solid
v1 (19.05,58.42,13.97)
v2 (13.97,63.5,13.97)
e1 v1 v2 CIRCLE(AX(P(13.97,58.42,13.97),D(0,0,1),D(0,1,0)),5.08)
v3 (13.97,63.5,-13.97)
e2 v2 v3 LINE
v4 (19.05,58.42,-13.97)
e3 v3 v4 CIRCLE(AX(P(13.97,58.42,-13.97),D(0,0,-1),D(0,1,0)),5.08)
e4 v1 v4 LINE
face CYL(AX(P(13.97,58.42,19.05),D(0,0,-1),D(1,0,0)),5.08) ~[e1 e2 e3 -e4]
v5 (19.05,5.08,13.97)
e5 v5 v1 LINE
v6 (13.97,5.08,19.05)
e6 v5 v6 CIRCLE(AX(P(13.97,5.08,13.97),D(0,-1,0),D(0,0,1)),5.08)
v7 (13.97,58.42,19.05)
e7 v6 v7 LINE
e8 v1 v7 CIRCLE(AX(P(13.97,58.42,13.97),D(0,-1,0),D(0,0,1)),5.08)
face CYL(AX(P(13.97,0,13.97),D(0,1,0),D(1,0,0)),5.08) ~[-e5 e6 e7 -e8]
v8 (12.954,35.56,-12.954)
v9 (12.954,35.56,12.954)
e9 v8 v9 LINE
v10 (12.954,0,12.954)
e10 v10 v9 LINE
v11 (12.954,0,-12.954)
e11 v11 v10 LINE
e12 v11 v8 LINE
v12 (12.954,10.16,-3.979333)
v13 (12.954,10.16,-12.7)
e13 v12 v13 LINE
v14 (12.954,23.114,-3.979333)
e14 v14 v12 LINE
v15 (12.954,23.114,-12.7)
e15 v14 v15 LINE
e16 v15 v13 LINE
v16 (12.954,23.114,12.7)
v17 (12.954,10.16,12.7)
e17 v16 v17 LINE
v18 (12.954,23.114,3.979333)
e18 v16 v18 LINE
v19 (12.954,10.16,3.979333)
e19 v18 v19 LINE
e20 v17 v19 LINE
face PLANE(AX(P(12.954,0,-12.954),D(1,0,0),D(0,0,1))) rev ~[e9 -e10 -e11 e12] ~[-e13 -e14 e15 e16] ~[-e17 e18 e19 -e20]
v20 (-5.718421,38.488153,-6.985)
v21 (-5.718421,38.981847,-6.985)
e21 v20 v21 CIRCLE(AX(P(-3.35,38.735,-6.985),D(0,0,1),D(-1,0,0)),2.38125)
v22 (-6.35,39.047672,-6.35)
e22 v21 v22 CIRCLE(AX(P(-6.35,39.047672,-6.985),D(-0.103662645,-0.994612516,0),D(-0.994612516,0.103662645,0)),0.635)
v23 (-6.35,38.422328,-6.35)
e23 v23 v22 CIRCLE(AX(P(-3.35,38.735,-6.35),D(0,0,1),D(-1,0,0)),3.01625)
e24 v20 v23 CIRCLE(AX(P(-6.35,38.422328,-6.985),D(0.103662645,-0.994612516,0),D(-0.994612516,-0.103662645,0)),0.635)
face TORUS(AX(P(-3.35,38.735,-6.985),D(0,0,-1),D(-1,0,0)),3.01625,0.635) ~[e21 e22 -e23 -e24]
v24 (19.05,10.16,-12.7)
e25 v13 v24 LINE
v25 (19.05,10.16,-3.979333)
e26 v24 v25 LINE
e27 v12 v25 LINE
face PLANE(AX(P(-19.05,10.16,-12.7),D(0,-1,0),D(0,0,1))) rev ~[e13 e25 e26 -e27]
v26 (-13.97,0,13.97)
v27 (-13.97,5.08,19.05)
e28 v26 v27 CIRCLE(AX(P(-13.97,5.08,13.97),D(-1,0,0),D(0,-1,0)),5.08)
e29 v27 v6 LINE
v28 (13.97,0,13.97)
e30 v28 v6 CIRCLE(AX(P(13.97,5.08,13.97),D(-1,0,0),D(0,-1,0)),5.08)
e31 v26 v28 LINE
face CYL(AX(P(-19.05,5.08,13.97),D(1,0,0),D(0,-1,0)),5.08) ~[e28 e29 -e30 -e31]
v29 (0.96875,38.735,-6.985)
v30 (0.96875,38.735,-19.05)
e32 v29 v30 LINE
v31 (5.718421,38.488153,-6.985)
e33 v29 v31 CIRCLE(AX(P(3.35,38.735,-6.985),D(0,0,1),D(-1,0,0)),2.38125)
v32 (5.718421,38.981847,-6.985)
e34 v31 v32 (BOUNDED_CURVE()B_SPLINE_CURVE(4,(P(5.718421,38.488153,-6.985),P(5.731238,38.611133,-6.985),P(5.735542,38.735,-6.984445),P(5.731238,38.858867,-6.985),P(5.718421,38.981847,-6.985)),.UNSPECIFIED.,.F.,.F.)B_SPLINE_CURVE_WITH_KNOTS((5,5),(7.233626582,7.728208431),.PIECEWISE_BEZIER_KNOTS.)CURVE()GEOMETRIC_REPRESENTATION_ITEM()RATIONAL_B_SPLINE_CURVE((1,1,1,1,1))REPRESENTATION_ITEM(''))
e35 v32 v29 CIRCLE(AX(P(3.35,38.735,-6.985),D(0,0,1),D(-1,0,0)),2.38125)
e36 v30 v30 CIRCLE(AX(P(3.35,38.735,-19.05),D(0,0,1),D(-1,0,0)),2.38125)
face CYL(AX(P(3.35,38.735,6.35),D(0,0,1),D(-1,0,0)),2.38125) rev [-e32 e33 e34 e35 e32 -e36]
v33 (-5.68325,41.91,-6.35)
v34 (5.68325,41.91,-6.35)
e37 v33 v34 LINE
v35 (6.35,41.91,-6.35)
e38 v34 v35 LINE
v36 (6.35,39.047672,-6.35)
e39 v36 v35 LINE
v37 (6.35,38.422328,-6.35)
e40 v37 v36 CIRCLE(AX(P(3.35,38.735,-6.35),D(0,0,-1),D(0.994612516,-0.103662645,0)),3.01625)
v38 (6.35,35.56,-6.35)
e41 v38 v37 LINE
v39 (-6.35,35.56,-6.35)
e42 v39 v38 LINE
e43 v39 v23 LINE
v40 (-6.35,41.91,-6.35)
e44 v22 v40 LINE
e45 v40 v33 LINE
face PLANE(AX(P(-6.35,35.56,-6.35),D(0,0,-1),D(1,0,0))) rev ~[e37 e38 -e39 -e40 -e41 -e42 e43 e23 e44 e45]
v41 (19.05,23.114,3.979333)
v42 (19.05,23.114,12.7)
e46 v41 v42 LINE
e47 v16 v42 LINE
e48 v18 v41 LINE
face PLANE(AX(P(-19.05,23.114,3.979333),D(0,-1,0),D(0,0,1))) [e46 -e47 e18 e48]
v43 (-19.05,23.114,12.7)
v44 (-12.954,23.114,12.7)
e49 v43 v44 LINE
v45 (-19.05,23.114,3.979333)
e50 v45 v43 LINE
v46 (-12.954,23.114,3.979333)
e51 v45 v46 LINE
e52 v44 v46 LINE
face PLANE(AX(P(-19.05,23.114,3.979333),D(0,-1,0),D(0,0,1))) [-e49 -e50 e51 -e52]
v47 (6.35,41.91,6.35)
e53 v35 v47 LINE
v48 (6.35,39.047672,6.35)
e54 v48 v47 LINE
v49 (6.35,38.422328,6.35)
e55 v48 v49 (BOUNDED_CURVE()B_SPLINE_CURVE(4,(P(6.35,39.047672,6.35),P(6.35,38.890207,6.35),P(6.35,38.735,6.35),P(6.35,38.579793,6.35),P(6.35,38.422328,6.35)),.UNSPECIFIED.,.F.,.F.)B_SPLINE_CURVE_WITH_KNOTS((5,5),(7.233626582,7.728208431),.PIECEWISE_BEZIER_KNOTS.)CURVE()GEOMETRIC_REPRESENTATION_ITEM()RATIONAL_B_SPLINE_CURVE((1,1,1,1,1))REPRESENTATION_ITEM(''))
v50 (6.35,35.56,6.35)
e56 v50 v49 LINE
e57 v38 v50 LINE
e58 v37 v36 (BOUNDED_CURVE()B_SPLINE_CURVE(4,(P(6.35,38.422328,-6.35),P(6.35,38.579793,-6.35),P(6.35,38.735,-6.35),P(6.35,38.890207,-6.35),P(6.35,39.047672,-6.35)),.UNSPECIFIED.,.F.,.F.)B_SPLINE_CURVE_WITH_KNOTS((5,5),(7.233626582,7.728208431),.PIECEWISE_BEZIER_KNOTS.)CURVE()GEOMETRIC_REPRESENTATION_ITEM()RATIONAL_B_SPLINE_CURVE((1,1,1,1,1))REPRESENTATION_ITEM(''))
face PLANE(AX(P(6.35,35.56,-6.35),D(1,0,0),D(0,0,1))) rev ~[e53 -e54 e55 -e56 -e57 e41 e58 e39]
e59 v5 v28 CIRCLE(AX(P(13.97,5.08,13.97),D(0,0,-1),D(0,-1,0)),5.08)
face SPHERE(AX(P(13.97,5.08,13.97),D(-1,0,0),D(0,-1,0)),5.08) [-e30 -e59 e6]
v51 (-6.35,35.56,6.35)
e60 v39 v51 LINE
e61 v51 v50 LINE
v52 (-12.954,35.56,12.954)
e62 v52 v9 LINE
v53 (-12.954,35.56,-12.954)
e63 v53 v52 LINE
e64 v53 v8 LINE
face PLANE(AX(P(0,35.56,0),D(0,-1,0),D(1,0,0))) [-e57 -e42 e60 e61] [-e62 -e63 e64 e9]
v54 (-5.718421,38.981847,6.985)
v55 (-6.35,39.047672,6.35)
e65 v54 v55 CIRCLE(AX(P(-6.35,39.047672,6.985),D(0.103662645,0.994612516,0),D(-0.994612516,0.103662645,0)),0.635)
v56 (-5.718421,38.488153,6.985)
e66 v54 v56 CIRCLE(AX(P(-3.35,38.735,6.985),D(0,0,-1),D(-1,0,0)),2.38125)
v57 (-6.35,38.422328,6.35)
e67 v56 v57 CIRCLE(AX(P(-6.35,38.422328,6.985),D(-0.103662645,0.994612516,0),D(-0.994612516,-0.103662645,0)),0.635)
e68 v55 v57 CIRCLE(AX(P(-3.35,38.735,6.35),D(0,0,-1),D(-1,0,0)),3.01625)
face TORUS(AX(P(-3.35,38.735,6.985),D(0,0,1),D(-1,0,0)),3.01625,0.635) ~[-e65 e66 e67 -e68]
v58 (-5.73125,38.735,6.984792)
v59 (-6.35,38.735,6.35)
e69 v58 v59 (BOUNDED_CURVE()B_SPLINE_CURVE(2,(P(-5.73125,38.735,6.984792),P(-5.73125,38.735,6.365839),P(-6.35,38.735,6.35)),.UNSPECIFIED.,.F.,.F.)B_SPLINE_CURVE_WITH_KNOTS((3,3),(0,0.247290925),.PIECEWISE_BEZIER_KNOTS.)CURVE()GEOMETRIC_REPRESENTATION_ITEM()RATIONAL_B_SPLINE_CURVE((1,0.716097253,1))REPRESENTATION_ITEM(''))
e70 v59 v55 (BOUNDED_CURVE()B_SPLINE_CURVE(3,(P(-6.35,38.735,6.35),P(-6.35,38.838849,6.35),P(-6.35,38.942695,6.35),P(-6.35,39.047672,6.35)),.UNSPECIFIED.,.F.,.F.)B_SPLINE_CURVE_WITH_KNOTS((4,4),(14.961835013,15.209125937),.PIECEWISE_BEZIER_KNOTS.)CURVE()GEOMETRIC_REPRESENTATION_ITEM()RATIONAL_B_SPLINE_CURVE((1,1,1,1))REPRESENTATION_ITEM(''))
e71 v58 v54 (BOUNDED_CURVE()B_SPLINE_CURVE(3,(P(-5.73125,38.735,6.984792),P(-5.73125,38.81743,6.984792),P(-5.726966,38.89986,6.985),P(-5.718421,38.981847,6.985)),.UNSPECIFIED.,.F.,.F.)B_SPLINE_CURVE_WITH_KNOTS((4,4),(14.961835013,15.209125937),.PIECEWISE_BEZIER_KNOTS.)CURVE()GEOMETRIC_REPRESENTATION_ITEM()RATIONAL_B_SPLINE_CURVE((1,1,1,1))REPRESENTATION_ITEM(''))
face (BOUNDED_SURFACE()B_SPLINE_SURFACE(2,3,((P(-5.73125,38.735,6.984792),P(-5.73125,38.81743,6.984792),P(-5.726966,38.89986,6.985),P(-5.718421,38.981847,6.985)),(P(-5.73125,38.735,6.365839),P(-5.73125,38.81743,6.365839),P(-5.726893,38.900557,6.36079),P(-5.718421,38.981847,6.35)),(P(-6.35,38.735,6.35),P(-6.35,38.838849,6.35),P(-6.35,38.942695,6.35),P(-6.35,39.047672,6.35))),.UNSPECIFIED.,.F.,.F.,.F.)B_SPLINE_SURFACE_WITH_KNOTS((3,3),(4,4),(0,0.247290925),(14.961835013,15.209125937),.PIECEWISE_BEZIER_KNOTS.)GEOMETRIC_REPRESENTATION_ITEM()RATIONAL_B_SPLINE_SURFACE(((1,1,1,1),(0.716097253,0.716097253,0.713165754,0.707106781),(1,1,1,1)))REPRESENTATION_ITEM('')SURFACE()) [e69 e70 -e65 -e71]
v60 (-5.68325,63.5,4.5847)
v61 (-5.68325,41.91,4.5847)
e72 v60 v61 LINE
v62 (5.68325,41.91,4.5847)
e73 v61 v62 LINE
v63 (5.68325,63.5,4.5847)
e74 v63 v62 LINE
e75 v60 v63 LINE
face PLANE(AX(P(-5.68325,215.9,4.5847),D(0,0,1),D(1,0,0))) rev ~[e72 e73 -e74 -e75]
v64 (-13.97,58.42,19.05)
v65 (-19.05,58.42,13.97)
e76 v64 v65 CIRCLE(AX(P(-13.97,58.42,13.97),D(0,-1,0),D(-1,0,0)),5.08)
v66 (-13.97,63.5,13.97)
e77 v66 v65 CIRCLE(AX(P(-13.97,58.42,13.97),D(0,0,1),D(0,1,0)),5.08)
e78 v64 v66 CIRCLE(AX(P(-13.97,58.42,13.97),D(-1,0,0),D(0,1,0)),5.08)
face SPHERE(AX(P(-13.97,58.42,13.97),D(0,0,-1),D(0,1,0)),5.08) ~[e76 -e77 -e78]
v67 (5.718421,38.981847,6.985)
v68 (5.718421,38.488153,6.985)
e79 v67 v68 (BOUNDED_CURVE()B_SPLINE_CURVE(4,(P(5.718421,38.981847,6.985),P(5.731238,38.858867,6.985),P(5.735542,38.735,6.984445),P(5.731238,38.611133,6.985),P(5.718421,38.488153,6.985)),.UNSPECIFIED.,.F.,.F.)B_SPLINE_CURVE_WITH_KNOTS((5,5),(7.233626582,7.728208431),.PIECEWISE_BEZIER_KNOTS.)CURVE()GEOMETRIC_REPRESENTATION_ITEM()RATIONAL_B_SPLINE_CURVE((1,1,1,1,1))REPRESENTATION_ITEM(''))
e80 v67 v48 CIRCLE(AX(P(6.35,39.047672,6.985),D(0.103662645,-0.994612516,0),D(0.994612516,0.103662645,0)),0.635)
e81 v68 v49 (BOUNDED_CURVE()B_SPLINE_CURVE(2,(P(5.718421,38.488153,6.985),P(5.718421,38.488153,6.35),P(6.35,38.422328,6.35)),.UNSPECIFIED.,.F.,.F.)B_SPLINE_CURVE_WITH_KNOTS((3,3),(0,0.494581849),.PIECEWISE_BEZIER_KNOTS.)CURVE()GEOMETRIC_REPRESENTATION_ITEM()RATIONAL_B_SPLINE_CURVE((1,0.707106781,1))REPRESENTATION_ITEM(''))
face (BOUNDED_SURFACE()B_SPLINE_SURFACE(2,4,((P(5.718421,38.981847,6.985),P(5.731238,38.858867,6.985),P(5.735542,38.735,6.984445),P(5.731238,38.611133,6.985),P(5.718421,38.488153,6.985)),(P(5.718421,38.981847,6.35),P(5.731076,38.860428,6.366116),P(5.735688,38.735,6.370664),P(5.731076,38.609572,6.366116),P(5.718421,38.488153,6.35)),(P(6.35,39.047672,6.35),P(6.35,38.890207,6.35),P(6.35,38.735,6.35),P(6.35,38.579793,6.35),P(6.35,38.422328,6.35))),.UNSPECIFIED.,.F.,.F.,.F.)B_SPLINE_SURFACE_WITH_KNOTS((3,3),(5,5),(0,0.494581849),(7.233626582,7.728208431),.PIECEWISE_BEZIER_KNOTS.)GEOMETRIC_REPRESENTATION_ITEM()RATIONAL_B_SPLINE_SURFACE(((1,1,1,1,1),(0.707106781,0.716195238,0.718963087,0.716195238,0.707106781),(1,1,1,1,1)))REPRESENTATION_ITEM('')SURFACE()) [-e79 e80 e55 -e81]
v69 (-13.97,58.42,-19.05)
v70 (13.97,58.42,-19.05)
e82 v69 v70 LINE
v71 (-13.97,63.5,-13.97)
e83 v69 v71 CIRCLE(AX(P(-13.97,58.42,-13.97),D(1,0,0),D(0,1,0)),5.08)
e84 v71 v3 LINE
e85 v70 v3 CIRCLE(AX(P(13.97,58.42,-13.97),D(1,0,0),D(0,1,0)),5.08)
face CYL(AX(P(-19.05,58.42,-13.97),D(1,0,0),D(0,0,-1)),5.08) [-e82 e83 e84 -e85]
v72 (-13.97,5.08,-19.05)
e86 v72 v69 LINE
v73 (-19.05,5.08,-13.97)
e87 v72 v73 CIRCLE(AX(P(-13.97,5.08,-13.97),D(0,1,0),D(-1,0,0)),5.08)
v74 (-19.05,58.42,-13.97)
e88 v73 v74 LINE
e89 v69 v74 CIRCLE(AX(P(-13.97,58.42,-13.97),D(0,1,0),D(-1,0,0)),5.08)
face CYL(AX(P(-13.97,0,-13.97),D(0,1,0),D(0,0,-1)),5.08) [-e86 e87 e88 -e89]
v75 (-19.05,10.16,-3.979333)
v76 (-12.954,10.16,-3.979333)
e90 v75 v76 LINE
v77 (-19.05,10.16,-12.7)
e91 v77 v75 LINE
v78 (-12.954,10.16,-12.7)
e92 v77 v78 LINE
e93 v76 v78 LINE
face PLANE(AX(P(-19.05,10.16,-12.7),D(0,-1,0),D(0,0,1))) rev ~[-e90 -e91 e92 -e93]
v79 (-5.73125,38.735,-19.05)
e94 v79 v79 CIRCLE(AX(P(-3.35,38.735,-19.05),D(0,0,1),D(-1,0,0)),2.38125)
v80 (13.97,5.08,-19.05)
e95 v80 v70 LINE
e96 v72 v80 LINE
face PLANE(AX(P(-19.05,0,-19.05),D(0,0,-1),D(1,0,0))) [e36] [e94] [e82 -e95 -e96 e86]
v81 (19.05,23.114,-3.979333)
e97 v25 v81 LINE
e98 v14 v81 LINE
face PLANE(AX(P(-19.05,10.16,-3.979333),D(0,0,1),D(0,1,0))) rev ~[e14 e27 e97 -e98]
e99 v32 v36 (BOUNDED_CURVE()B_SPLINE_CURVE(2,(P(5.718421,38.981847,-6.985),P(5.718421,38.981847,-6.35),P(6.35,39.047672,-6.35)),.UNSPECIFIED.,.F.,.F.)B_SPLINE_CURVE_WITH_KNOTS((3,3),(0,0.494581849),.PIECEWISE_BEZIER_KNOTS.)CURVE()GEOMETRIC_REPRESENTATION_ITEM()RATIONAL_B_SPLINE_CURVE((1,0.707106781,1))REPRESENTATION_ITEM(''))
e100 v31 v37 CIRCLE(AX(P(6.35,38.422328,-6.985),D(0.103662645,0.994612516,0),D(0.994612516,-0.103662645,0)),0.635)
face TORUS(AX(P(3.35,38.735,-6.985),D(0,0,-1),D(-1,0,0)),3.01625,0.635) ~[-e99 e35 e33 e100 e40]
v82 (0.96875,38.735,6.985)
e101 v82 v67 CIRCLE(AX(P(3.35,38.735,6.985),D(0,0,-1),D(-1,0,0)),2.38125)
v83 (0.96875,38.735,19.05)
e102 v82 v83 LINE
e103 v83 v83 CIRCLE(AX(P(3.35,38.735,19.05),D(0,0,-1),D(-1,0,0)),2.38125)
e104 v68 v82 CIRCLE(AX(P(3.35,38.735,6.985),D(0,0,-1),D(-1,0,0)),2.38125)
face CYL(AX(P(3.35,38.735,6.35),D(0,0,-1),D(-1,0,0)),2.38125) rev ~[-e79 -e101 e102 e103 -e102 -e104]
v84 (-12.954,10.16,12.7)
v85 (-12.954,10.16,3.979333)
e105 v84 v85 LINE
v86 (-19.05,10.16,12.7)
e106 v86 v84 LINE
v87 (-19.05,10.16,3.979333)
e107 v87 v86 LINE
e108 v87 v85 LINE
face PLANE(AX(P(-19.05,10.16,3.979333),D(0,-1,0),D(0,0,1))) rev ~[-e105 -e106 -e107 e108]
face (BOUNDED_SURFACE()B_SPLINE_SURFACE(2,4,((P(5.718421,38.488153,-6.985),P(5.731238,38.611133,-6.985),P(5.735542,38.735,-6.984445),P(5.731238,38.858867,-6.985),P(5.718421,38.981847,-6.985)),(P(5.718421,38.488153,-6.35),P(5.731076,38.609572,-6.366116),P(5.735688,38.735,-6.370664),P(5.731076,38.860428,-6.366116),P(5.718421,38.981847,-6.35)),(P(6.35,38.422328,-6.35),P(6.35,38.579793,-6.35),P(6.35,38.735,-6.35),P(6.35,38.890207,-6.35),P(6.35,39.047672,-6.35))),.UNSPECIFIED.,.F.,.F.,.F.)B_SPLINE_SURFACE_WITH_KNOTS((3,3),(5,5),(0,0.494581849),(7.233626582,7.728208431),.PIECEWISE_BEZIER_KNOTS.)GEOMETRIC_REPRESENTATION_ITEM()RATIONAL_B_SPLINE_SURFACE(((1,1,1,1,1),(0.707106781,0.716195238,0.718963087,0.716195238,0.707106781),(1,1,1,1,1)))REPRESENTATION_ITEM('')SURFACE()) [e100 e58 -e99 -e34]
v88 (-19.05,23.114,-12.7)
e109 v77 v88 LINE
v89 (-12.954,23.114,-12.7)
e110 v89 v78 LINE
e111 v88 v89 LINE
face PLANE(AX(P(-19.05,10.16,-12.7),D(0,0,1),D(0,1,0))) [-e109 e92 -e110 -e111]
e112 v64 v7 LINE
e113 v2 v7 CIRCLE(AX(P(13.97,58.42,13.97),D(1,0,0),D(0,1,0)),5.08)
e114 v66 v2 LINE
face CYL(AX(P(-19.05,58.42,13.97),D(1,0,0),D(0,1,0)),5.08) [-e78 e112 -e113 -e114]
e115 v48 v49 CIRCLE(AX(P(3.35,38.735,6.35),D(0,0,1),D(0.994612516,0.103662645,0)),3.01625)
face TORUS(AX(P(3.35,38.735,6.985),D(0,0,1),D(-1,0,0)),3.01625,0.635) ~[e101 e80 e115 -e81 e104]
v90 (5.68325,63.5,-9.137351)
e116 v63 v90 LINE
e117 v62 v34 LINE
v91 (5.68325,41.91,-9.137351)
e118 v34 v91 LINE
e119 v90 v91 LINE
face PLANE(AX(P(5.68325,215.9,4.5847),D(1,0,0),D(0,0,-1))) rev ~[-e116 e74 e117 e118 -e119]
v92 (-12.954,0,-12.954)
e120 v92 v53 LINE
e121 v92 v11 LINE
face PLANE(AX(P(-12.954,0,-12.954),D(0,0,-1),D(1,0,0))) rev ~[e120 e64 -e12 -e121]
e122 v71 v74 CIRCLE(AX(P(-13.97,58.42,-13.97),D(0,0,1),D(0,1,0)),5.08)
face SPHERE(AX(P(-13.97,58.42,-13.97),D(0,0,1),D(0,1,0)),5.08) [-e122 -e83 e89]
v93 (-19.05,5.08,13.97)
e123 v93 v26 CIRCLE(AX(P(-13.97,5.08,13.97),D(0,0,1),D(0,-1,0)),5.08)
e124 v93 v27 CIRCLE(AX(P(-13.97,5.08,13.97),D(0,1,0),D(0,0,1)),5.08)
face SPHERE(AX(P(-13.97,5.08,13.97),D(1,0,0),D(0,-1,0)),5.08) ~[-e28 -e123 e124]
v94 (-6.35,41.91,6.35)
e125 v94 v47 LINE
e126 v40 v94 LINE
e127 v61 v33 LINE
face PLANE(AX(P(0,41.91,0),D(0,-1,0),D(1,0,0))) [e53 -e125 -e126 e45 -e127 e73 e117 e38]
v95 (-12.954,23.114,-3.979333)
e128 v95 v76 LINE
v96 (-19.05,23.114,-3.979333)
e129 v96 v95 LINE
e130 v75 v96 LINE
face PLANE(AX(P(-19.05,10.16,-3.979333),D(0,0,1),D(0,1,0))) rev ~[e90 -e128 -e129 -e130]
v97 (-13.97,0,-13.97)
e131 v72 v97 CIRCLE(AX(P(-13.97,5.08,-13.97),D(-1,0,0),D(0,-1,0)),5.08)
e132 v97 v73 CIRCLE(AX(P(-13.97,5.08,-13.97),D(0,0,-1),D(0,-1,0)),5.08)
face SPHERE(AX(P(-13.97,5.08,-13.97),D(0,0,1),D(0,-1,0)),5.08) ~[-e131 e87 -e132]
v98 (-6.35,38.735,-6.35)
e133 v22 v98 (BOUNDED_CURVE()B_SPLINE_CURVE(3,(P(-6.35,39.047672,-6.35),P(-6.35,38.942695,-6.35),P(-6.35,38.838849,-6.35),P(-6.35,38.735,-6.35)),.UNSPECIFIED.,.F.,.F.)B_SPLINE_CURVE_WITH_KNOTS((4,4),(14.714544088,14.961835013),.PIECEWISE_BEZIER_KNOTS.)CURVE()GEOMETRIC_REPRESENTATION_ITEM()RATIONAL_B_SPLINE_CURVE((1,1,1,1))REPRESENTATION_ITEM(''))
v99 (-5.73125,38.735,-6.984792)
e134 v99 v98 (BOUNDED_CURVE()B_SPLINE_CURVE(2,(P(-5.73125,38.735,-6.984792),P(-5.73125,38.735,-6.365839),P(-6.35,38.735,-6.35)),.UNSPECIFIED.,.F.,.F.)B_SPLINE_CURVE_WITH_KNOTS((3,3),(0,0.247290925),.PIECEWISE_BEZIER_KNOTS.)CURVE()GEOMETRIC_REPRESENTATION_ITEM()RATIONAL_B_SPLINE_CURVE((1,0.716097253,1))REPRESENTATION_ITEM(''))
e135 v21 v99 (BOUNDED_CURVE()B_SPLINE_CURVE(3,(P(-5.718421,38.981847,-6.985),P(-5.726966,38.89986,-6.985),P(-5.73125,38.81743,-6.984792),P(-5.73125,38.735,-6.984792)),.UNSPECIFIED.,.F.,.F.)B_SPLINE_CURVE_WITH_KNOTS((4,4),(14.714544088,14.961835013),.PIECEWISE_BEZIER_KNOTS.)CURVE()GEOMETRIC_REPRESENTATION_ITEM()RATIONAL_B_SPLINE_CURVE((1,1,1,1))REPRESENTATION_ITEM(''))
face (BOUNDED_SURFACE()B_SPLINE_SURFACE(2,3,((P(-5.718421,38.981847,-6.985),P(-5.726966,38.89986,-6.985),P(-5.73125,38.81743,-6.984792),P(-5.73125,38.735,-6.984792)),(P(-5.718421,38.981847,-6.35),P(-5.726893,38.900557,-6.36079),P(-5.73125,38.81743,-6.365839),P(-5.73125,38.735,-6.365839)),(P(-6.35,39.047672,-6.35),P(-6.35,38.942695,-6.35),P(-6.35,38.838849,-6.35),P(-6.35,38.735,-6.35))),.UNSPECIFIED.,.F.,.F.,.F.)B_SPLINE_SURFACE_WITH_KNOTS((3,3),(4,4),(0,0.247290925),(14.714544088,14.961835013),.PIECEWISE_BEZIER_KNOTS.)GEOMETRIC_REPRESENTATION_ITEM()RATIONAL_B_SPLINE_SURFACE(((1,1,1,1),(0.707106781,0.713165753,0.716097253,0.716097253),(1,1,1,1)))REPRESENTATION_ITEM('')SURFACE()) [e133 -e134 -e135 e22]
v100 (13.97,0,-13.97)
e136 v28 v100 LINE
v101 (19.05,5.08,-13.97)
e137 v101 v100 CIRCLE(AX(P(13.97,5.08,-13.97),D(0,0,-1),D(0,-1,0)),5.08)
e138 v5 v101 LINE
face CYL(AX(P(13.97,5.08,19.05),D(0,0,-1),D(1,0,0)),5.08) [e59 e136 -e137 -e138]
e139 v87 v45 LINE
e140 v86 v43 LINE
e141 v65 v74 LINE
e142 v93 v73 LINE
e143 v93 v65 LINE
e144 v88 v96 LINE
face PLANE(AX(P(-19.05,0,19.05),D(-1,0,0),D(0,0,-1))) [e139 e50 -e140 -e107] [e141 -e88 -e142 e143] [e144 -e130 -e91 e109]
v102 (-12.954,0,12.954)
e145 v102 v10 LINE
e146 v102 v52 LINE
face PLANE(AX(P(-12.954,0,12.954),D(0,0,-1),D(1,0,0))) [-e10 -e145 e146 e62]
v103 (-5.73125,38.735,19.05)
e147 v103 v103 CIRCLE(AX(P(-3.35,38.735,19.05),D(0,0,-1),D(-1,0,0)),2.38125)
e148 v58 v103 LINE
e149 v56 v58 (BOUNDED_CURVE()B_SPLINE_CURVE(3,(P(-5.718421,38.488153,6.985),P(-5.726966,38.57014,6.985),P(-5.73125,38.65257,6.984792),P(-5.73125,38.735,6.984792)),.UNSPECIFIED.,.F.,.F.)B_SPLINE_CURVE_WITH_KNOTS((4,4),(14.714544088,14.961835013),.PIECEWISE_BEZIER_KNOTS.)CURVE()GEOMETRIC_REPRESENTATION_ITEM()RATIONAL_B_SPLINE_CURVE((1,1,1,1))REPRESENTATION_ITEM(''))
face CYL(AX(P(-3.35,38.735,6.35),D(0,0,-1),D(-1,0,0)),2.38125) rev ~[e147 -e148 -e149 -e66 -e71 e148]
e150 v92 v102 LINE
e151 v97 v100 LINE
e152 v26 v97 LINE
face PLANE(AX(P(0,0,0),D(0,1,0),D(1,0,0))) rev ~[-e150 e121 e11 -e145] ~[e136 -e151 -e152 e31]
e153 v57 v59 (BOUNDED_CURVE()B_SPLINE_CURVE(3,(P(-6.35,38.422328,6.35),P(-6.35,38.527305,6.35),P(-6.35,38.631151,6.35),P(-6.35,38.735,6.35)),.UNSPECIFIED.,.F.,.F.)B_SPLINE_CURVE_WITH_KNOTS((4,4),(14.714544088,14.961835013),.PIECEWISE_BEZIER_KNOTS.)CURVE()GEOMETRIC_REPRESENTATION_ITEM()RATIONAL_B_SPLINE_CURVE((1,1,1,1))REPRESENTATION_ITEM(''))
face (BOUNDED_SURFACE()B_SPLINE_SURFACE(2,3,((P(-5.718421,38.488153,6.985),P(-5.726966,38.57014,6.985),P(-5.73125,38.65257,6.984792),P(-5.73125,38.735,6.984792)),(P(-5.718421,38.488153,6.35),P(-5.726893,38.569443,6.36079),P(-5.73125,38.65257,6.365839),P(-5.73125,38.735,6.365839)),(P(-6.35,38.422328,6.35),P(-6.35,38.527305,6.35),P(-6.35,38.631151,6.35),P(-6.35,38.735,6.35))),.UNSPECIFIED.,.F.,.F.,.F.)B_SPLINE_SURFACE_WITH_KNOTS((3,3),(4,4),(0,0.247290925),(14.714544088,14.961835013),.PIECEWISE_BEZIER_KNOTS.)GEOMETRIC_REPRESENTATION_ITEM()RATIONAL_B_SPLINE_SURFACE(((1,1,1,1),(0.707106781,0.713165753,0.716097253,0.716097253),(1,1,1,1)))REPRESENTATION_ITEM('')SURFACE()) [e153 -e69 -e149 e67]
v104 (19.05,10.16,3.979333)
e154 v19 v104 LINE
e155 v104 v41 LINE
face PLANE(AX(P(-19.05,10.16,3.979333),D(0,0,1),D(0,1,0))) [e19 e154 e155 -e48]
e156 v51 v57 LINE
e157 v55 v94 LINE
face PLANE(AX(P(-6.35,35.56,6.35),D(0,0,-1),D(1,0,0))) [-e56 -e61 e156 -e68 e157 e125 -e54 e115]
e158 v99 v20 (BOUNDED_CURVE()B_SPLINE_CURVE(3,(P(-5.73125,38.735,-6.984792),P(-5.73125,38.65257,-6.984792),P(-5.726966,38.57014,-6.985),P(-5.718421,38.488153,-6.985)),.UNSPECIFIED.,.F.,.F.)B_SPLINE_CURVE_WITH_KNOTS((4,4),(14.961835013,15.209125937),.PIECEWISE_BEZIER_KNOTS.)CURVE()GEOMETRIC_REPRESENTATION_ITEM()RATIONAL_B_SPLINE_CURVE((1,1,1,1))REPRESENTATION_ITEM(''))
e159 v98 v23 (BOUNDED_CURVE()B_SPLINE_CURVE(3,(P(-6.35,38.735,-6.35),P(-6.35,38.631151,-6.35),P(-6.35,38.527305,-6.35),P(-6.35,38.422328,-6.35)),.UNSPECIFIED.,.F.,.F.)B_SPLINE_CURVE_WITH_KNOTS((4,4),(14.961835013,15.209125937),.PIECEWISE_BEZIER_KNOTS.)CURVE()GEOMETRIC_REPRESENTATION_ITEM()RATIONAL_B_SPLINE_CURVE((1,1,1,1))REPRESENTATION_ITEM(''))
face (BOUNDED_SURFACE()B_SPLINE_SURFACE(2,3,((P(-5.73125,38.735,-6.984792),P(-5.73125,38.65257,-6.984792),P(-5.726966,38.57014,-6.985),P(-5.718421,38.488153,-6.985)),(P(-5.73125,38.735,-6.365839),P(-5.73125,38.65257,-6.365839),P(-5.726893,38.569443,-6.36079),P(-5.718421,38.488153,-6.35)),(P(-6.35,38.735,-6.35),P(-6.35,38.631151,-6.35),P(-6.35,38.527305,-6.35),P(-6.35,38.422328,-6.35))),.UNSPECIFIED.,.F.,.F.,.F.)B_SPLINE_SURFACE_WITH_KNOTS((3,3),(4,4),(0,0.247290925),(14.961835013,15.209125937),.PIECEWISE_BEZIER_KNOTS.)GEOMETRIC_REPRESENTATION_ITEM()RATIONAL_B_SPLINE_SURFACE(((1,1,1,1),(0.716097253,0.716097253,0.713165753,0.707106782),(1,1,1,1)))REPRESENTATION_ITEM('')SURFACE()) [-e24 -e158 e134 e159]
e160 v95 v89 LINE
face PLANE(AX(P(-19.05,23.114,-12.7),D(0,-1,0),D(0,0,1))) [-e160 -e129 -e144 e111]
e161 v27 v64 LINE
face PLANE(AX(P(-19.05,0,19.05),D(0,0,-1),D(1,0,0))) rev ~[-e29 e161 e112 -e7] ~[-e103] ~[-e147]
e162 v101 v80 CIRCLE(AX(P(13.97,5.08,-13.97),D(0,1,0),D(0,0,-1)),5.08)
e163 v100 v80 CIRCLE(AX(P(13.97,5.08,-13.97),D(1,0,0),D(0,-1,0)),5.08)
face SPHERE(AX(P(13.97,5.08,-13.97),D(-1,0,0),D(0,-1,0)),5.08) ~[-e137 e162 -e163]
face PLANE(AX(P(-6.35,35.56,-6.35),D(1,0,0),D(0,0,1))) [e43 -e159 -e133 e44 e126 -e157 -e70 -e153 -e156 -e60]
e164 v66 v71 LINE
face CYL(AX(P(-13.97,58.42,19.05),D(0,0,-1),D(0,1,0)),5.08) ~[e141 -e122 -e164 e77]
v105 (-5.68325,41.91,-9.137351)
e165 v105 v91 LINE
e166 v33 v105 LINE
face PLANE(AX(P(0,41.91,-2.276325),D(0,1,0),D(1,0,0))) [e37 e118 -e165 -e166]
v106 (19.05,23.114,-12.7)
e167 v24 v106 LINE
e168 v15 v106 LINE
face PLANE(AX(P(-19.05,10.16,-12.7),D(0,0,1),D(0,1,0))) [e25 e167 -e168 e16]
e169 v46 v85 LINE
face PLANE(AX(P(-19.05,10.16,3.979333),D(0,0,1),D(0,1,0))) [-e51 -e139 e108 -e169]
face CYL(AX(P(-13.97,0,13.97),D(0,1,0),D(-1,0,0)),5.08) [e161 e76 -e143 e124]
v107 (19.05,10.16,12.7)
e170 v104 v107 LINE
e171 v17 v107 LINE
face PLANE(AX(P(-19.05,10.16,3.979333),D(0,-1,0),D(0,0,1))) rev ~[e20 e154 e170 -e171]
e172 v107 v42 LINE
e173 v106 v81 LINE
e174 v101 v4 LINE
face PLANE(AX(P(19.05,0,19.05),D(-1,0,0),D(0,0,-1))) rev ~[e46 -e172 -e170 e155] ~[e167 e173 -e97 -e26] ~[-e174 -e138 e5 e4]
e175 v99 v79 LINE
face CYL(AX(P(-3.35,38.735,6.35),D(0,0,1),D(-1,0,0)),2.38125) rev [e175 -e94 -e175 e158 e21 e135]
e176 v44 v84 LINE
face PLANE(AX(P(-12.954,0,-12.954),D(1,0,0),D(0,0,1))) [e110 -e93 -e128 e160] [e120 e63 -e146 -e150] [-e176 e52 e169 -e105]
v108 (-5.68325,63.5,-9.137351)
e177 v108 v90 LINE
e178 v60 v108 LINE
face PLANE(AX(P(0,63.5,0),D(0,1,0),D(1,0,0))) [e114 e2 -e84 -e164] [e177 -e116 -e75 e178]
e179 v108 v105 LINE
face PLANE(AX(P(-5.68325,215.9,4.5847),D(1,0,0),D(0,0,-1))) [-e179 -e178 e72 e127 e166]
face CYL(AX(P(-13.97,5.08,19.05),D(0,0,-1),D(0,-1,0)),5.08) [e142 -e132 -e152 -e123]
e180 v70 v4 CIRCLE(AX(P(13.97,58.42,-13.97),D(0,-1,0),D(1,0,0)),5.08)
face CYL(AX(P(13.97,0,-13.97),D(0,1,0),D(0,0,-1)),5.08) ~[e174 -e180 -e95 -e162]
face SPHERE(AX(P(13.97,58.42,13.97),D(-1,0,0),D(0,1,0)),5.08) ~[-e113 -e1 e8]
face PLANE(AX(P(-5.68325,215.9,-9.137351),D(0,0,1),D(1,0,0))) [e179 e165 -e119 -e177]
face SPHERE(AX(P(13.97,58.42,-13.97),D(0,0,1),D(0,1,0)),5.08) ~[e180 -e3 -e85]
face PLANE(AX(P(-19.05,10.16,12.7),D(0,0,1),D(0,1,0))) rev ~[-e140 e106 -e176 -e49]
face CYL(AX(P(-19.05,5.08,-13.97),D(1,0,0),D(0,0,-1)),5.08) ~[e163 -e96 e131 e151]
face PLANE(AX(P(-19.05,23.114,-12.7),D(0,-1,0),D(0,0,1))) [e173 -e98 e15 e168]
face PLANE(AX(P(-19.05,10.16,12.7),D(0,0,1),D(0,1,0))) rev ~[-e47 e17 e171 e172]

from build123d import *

# Parameters (mm, degrees)
SKETCH1_W               = 38.1
SKETCH1_H               = 38.1
BOSS_EXTRUDE1_DEPTH     = 63.5
SKETCH4_W               = 8.9154
SKETCH4_H               = 152.4
BOSS_EXTRUDE3_DEPTH     = 5.55625
BOSS_EXTRUDE4_DEPTH     = 11.1125
LPATTERN1_COUNT         = 24
LPATTERN1_PITCH         = 6.23316
FILLET1_R               = 0.50038
SKETCH8_W               = 25.908
SKETCH8_H               = 25.908
CUT_EXTRUDE3_DEPTH      = 35.56
SKETCH9_W               = 12.7
SKETCH9_H               = 12.7
CUT_EXTRUDE4_DEPTH      = 6.35
SKETCH10_R              = 2.38125
CUT_EXTRUDE5_DEPTH      = 26.4
CUT_EXTRUDE5_DEPTH_BACK = 13.7
SKETCH11_W              = 8.720666667
SKETCH11_H              = 12.954
CUT_EXTRUDE6_DEPTH      = 39.1
FILLET2_R               = 0.635
FILLET3_R               = 5.08
SKETCH15_W              = 11.3665
SKETCH15_H              = 13.722050523
CUT_EXTRUDE9_DEPTH      = 173.99


with BuildPart() as part:
    # Sketch1 → Boss-Extrude1 (new body)
    with BuildSketch(Plane(origin=(0, 0, 0), x_dir=(1, 0, 0), z_dir=(0, 1, 0))):
        Rectangle(SKETCH1_W, SKETCH1_H)
    extrude(amount=BOSS_EXTRUDE1_DEPTH)

    # Sketch4 → Boss-Extrude3 (add, symmetric)
    with BuildSketch(Plane(origin=(0, 0, 0), x_dir=(0, 0, -1), z_dir=(1, 0, 0))):
        with Locations((0, 139.7)):
            Rectangle(SKETCH4_W, SKETCH4_H)
    extrude(amount=BOSS_EXTRUDE3_DEPTH, both=True)

    # Sketch5 → Boss-Extrude4 (add)
    with BuildSketch(Plane.ZY.offset(5.55625)):
        Polygon((-4.4577, 215.9), (-8.95858, 214.2617), (-8.95858, 212.57514), (-4.4577, 210.93684), align=None)
    boss_extrude4 = extrude(amount=-BOSS_EXTRUDE4_DEPTH)

    # LPattern1: Boss-Extrude4 ×24
    with Locations(*[(0, -i * LPATTERN1_PITCH, 0) for i in range(1, LPATTERN1_COUNT)]):
        add(boss_extrude4)

    # Fillet1
    fillet1_edges = [part.edges().sort_by_distance(p)[0] for p in [
        (0, 170.62958, -8.95858),
        (0, 168.94302, -8.95858),
        (0, 167.30472, -4.4577),
        (0, 172.26788, -4.4577),
        (0, 164.39642, -8.95858),
        (0, 162.70986, -8.95858),
        (0, 161.07156, -4.4577),
        (0, 166.03472, -4.4577),
        (0, 158.16326, -8.95858),
        (0, 156.4767, -8.95858),
        (0, 154.8384, -4.4577),
        (0, 159.80156, -4.4577),
        (0, 151.9301, -8.95858),
        (0, 150.24354, -8.95858),
        (0, 148.60524, -4.4577),
        (0, 153.5684, -4.4577),
        (0, 145.69694, -8.95858),
        (0, 144.01038, -8.95858),
        (0, 142.37208, -4.4577),
        (0, 147.33524, -4.4577),
        (0, 214.2617, -8.95858),
        (0, 212.57514, -8.95858),
        (0, 210.93684, -4.4577),
        (0, 208.02854, -8.95858),
        (0, 206.34198, -8.95858),
        (0, 204.70368, -4.4577),
        (0, 209.66684, -4.4577),
        (0, 201.79538, -8.95858),
        (0, 200.10882, -8.95858),
        (0, 198.47052, -4.4577),
        (0, 203.43368, -4.4577),
        (0, 195.56222, -8.95858),
        (0, 193.87566, -8.95858),
        (0, 192.23736, -4.4577),
        (0, 197.20052, -4.4577),
        (0, 189.32906, -8.95858),
        (0, 187.6425, -8.95858),
        (0, 186.0042, -4.4577),
        (0, 190.96736, -4.4577),
        (0, 183.0959, -8.95858),
        (0, 181.40934, -8.95858),
        (0, 179.77104, -4.4577),
        (0, 184.7342, -4.4577),
        (0, 176.86274, -8.95858),
        (0, 175.17618, -8.95858),
        (0, 173.53788, -4.4577),
        (0, 178.50104, -4.4577),
    ]]
    fillet(fillet1_edges, radius=FILLET1_R)

    # Sketch8 → Cut-Extrude3 (cut)
    with BuildSketch(Plane.XZ):
        Rectangle(SKETCH8_W, SKETCH8_H)
    extrude(amount=-CUT_EXTRUDE3_DEPTH, mode=Mode.SUBTRACT)

    # Sketch9 → Cut-Extrude4 (cut)
    with BuildSketch(Plane.XZ.offset(-35.56)):
        Rectangle(SKETCH9_W, SKETCH9_H)
    extrude(amount=-CUT_EXTRUDE4_DEPTH, mode=Mode.SUBTRACT)

    # Sketch10 → Cut-Extrude5 (cut, two sides)
    with BuildSketch(Plane(origin=(0, 0, 6.35), x_dir=(-1, 0, 0), z_dir=(0, 0, -1))) as cut_extrude5_sk:
        with Locations((-3.35, 38.735)):
            Circle(SKETCH10_R)
        with Locations((3.35, 38.735)):
            Circle(SKETCH10_R)
    extrude(amount=CUT_EXTRUDE5_DEPTH, mode=Mode.SUBTRACT)
    extrude(cut_extrude5_sk.sketch, amount=-CUT_EXTRUDE5_DEPTH_BACK, mode=Mode.SUBTRACT)

    # Sketch11 → Cut-Extrude6 (cut, through all)
    with BuildSketch(Plane.ZY.offset(19.05)):
        with Locations((-8.339666667, 16.637)):
            Rectangle(SKETCH11_W, SKETCH11_H)
        with Locations((8.339666667, 16.637)):
            Rectangle(SKETCH11_W, SKETCH11_H)
    extrude(amount=-CUT_EXTRUDE6_DEPTH, mode=Mode.SUBTRACT)

    # Fillet2
    fillet2_edges = [part.edges().sort_by_distance(p)[0] for p in [
        (5.73125, 38.735, -6.35),
        (5.73125, 38.735, 6.35),
        (-0.96875, 38.735, -6.35),
        (-0.96875, 38.735, 6.35),
    ]]
    fillet(fillet2_edges, radius=FILLET2_R)

    # Fillet3
    fillet3_edges = [part.edges().sort_by_distance(p)[0] for p in [
        (-19.05, 63.5, 0),
        (0, 63.5, 19.05),
        (19.05, 63.5, 0),
        (0, 0, 19.05),
        (-19.05, 0, 0),
        (0, 0, -19.05),
        (19.05, 0, 0),
        (0, 63.5, -19.05),
        (19.05, 31.75, 19.05),
        (-19.05, 31.75, 19.05),
        (-19.05, 31.75, -19.05),
        (19.05, 31.75, -19.05),
    ]]
    fillet(fillet3_edges, radius=FILLET3_R)

    # Sketch15 → Cut-Extrude9 (cut)
    with BuildSketch(Plane(origin=(0, 215.9, 0), x_dir=(1, 0, 0), z_dir=(0, 1, 0))):
        with Locations((0, 2.276325261)):
            Rectangle(SKETCH15_W, SKETCH15_H)
    extrude(amount=-CUT_EXTRUDE9_DEPTH, mode=Mode.SUBTRACT)


solid = part.part
